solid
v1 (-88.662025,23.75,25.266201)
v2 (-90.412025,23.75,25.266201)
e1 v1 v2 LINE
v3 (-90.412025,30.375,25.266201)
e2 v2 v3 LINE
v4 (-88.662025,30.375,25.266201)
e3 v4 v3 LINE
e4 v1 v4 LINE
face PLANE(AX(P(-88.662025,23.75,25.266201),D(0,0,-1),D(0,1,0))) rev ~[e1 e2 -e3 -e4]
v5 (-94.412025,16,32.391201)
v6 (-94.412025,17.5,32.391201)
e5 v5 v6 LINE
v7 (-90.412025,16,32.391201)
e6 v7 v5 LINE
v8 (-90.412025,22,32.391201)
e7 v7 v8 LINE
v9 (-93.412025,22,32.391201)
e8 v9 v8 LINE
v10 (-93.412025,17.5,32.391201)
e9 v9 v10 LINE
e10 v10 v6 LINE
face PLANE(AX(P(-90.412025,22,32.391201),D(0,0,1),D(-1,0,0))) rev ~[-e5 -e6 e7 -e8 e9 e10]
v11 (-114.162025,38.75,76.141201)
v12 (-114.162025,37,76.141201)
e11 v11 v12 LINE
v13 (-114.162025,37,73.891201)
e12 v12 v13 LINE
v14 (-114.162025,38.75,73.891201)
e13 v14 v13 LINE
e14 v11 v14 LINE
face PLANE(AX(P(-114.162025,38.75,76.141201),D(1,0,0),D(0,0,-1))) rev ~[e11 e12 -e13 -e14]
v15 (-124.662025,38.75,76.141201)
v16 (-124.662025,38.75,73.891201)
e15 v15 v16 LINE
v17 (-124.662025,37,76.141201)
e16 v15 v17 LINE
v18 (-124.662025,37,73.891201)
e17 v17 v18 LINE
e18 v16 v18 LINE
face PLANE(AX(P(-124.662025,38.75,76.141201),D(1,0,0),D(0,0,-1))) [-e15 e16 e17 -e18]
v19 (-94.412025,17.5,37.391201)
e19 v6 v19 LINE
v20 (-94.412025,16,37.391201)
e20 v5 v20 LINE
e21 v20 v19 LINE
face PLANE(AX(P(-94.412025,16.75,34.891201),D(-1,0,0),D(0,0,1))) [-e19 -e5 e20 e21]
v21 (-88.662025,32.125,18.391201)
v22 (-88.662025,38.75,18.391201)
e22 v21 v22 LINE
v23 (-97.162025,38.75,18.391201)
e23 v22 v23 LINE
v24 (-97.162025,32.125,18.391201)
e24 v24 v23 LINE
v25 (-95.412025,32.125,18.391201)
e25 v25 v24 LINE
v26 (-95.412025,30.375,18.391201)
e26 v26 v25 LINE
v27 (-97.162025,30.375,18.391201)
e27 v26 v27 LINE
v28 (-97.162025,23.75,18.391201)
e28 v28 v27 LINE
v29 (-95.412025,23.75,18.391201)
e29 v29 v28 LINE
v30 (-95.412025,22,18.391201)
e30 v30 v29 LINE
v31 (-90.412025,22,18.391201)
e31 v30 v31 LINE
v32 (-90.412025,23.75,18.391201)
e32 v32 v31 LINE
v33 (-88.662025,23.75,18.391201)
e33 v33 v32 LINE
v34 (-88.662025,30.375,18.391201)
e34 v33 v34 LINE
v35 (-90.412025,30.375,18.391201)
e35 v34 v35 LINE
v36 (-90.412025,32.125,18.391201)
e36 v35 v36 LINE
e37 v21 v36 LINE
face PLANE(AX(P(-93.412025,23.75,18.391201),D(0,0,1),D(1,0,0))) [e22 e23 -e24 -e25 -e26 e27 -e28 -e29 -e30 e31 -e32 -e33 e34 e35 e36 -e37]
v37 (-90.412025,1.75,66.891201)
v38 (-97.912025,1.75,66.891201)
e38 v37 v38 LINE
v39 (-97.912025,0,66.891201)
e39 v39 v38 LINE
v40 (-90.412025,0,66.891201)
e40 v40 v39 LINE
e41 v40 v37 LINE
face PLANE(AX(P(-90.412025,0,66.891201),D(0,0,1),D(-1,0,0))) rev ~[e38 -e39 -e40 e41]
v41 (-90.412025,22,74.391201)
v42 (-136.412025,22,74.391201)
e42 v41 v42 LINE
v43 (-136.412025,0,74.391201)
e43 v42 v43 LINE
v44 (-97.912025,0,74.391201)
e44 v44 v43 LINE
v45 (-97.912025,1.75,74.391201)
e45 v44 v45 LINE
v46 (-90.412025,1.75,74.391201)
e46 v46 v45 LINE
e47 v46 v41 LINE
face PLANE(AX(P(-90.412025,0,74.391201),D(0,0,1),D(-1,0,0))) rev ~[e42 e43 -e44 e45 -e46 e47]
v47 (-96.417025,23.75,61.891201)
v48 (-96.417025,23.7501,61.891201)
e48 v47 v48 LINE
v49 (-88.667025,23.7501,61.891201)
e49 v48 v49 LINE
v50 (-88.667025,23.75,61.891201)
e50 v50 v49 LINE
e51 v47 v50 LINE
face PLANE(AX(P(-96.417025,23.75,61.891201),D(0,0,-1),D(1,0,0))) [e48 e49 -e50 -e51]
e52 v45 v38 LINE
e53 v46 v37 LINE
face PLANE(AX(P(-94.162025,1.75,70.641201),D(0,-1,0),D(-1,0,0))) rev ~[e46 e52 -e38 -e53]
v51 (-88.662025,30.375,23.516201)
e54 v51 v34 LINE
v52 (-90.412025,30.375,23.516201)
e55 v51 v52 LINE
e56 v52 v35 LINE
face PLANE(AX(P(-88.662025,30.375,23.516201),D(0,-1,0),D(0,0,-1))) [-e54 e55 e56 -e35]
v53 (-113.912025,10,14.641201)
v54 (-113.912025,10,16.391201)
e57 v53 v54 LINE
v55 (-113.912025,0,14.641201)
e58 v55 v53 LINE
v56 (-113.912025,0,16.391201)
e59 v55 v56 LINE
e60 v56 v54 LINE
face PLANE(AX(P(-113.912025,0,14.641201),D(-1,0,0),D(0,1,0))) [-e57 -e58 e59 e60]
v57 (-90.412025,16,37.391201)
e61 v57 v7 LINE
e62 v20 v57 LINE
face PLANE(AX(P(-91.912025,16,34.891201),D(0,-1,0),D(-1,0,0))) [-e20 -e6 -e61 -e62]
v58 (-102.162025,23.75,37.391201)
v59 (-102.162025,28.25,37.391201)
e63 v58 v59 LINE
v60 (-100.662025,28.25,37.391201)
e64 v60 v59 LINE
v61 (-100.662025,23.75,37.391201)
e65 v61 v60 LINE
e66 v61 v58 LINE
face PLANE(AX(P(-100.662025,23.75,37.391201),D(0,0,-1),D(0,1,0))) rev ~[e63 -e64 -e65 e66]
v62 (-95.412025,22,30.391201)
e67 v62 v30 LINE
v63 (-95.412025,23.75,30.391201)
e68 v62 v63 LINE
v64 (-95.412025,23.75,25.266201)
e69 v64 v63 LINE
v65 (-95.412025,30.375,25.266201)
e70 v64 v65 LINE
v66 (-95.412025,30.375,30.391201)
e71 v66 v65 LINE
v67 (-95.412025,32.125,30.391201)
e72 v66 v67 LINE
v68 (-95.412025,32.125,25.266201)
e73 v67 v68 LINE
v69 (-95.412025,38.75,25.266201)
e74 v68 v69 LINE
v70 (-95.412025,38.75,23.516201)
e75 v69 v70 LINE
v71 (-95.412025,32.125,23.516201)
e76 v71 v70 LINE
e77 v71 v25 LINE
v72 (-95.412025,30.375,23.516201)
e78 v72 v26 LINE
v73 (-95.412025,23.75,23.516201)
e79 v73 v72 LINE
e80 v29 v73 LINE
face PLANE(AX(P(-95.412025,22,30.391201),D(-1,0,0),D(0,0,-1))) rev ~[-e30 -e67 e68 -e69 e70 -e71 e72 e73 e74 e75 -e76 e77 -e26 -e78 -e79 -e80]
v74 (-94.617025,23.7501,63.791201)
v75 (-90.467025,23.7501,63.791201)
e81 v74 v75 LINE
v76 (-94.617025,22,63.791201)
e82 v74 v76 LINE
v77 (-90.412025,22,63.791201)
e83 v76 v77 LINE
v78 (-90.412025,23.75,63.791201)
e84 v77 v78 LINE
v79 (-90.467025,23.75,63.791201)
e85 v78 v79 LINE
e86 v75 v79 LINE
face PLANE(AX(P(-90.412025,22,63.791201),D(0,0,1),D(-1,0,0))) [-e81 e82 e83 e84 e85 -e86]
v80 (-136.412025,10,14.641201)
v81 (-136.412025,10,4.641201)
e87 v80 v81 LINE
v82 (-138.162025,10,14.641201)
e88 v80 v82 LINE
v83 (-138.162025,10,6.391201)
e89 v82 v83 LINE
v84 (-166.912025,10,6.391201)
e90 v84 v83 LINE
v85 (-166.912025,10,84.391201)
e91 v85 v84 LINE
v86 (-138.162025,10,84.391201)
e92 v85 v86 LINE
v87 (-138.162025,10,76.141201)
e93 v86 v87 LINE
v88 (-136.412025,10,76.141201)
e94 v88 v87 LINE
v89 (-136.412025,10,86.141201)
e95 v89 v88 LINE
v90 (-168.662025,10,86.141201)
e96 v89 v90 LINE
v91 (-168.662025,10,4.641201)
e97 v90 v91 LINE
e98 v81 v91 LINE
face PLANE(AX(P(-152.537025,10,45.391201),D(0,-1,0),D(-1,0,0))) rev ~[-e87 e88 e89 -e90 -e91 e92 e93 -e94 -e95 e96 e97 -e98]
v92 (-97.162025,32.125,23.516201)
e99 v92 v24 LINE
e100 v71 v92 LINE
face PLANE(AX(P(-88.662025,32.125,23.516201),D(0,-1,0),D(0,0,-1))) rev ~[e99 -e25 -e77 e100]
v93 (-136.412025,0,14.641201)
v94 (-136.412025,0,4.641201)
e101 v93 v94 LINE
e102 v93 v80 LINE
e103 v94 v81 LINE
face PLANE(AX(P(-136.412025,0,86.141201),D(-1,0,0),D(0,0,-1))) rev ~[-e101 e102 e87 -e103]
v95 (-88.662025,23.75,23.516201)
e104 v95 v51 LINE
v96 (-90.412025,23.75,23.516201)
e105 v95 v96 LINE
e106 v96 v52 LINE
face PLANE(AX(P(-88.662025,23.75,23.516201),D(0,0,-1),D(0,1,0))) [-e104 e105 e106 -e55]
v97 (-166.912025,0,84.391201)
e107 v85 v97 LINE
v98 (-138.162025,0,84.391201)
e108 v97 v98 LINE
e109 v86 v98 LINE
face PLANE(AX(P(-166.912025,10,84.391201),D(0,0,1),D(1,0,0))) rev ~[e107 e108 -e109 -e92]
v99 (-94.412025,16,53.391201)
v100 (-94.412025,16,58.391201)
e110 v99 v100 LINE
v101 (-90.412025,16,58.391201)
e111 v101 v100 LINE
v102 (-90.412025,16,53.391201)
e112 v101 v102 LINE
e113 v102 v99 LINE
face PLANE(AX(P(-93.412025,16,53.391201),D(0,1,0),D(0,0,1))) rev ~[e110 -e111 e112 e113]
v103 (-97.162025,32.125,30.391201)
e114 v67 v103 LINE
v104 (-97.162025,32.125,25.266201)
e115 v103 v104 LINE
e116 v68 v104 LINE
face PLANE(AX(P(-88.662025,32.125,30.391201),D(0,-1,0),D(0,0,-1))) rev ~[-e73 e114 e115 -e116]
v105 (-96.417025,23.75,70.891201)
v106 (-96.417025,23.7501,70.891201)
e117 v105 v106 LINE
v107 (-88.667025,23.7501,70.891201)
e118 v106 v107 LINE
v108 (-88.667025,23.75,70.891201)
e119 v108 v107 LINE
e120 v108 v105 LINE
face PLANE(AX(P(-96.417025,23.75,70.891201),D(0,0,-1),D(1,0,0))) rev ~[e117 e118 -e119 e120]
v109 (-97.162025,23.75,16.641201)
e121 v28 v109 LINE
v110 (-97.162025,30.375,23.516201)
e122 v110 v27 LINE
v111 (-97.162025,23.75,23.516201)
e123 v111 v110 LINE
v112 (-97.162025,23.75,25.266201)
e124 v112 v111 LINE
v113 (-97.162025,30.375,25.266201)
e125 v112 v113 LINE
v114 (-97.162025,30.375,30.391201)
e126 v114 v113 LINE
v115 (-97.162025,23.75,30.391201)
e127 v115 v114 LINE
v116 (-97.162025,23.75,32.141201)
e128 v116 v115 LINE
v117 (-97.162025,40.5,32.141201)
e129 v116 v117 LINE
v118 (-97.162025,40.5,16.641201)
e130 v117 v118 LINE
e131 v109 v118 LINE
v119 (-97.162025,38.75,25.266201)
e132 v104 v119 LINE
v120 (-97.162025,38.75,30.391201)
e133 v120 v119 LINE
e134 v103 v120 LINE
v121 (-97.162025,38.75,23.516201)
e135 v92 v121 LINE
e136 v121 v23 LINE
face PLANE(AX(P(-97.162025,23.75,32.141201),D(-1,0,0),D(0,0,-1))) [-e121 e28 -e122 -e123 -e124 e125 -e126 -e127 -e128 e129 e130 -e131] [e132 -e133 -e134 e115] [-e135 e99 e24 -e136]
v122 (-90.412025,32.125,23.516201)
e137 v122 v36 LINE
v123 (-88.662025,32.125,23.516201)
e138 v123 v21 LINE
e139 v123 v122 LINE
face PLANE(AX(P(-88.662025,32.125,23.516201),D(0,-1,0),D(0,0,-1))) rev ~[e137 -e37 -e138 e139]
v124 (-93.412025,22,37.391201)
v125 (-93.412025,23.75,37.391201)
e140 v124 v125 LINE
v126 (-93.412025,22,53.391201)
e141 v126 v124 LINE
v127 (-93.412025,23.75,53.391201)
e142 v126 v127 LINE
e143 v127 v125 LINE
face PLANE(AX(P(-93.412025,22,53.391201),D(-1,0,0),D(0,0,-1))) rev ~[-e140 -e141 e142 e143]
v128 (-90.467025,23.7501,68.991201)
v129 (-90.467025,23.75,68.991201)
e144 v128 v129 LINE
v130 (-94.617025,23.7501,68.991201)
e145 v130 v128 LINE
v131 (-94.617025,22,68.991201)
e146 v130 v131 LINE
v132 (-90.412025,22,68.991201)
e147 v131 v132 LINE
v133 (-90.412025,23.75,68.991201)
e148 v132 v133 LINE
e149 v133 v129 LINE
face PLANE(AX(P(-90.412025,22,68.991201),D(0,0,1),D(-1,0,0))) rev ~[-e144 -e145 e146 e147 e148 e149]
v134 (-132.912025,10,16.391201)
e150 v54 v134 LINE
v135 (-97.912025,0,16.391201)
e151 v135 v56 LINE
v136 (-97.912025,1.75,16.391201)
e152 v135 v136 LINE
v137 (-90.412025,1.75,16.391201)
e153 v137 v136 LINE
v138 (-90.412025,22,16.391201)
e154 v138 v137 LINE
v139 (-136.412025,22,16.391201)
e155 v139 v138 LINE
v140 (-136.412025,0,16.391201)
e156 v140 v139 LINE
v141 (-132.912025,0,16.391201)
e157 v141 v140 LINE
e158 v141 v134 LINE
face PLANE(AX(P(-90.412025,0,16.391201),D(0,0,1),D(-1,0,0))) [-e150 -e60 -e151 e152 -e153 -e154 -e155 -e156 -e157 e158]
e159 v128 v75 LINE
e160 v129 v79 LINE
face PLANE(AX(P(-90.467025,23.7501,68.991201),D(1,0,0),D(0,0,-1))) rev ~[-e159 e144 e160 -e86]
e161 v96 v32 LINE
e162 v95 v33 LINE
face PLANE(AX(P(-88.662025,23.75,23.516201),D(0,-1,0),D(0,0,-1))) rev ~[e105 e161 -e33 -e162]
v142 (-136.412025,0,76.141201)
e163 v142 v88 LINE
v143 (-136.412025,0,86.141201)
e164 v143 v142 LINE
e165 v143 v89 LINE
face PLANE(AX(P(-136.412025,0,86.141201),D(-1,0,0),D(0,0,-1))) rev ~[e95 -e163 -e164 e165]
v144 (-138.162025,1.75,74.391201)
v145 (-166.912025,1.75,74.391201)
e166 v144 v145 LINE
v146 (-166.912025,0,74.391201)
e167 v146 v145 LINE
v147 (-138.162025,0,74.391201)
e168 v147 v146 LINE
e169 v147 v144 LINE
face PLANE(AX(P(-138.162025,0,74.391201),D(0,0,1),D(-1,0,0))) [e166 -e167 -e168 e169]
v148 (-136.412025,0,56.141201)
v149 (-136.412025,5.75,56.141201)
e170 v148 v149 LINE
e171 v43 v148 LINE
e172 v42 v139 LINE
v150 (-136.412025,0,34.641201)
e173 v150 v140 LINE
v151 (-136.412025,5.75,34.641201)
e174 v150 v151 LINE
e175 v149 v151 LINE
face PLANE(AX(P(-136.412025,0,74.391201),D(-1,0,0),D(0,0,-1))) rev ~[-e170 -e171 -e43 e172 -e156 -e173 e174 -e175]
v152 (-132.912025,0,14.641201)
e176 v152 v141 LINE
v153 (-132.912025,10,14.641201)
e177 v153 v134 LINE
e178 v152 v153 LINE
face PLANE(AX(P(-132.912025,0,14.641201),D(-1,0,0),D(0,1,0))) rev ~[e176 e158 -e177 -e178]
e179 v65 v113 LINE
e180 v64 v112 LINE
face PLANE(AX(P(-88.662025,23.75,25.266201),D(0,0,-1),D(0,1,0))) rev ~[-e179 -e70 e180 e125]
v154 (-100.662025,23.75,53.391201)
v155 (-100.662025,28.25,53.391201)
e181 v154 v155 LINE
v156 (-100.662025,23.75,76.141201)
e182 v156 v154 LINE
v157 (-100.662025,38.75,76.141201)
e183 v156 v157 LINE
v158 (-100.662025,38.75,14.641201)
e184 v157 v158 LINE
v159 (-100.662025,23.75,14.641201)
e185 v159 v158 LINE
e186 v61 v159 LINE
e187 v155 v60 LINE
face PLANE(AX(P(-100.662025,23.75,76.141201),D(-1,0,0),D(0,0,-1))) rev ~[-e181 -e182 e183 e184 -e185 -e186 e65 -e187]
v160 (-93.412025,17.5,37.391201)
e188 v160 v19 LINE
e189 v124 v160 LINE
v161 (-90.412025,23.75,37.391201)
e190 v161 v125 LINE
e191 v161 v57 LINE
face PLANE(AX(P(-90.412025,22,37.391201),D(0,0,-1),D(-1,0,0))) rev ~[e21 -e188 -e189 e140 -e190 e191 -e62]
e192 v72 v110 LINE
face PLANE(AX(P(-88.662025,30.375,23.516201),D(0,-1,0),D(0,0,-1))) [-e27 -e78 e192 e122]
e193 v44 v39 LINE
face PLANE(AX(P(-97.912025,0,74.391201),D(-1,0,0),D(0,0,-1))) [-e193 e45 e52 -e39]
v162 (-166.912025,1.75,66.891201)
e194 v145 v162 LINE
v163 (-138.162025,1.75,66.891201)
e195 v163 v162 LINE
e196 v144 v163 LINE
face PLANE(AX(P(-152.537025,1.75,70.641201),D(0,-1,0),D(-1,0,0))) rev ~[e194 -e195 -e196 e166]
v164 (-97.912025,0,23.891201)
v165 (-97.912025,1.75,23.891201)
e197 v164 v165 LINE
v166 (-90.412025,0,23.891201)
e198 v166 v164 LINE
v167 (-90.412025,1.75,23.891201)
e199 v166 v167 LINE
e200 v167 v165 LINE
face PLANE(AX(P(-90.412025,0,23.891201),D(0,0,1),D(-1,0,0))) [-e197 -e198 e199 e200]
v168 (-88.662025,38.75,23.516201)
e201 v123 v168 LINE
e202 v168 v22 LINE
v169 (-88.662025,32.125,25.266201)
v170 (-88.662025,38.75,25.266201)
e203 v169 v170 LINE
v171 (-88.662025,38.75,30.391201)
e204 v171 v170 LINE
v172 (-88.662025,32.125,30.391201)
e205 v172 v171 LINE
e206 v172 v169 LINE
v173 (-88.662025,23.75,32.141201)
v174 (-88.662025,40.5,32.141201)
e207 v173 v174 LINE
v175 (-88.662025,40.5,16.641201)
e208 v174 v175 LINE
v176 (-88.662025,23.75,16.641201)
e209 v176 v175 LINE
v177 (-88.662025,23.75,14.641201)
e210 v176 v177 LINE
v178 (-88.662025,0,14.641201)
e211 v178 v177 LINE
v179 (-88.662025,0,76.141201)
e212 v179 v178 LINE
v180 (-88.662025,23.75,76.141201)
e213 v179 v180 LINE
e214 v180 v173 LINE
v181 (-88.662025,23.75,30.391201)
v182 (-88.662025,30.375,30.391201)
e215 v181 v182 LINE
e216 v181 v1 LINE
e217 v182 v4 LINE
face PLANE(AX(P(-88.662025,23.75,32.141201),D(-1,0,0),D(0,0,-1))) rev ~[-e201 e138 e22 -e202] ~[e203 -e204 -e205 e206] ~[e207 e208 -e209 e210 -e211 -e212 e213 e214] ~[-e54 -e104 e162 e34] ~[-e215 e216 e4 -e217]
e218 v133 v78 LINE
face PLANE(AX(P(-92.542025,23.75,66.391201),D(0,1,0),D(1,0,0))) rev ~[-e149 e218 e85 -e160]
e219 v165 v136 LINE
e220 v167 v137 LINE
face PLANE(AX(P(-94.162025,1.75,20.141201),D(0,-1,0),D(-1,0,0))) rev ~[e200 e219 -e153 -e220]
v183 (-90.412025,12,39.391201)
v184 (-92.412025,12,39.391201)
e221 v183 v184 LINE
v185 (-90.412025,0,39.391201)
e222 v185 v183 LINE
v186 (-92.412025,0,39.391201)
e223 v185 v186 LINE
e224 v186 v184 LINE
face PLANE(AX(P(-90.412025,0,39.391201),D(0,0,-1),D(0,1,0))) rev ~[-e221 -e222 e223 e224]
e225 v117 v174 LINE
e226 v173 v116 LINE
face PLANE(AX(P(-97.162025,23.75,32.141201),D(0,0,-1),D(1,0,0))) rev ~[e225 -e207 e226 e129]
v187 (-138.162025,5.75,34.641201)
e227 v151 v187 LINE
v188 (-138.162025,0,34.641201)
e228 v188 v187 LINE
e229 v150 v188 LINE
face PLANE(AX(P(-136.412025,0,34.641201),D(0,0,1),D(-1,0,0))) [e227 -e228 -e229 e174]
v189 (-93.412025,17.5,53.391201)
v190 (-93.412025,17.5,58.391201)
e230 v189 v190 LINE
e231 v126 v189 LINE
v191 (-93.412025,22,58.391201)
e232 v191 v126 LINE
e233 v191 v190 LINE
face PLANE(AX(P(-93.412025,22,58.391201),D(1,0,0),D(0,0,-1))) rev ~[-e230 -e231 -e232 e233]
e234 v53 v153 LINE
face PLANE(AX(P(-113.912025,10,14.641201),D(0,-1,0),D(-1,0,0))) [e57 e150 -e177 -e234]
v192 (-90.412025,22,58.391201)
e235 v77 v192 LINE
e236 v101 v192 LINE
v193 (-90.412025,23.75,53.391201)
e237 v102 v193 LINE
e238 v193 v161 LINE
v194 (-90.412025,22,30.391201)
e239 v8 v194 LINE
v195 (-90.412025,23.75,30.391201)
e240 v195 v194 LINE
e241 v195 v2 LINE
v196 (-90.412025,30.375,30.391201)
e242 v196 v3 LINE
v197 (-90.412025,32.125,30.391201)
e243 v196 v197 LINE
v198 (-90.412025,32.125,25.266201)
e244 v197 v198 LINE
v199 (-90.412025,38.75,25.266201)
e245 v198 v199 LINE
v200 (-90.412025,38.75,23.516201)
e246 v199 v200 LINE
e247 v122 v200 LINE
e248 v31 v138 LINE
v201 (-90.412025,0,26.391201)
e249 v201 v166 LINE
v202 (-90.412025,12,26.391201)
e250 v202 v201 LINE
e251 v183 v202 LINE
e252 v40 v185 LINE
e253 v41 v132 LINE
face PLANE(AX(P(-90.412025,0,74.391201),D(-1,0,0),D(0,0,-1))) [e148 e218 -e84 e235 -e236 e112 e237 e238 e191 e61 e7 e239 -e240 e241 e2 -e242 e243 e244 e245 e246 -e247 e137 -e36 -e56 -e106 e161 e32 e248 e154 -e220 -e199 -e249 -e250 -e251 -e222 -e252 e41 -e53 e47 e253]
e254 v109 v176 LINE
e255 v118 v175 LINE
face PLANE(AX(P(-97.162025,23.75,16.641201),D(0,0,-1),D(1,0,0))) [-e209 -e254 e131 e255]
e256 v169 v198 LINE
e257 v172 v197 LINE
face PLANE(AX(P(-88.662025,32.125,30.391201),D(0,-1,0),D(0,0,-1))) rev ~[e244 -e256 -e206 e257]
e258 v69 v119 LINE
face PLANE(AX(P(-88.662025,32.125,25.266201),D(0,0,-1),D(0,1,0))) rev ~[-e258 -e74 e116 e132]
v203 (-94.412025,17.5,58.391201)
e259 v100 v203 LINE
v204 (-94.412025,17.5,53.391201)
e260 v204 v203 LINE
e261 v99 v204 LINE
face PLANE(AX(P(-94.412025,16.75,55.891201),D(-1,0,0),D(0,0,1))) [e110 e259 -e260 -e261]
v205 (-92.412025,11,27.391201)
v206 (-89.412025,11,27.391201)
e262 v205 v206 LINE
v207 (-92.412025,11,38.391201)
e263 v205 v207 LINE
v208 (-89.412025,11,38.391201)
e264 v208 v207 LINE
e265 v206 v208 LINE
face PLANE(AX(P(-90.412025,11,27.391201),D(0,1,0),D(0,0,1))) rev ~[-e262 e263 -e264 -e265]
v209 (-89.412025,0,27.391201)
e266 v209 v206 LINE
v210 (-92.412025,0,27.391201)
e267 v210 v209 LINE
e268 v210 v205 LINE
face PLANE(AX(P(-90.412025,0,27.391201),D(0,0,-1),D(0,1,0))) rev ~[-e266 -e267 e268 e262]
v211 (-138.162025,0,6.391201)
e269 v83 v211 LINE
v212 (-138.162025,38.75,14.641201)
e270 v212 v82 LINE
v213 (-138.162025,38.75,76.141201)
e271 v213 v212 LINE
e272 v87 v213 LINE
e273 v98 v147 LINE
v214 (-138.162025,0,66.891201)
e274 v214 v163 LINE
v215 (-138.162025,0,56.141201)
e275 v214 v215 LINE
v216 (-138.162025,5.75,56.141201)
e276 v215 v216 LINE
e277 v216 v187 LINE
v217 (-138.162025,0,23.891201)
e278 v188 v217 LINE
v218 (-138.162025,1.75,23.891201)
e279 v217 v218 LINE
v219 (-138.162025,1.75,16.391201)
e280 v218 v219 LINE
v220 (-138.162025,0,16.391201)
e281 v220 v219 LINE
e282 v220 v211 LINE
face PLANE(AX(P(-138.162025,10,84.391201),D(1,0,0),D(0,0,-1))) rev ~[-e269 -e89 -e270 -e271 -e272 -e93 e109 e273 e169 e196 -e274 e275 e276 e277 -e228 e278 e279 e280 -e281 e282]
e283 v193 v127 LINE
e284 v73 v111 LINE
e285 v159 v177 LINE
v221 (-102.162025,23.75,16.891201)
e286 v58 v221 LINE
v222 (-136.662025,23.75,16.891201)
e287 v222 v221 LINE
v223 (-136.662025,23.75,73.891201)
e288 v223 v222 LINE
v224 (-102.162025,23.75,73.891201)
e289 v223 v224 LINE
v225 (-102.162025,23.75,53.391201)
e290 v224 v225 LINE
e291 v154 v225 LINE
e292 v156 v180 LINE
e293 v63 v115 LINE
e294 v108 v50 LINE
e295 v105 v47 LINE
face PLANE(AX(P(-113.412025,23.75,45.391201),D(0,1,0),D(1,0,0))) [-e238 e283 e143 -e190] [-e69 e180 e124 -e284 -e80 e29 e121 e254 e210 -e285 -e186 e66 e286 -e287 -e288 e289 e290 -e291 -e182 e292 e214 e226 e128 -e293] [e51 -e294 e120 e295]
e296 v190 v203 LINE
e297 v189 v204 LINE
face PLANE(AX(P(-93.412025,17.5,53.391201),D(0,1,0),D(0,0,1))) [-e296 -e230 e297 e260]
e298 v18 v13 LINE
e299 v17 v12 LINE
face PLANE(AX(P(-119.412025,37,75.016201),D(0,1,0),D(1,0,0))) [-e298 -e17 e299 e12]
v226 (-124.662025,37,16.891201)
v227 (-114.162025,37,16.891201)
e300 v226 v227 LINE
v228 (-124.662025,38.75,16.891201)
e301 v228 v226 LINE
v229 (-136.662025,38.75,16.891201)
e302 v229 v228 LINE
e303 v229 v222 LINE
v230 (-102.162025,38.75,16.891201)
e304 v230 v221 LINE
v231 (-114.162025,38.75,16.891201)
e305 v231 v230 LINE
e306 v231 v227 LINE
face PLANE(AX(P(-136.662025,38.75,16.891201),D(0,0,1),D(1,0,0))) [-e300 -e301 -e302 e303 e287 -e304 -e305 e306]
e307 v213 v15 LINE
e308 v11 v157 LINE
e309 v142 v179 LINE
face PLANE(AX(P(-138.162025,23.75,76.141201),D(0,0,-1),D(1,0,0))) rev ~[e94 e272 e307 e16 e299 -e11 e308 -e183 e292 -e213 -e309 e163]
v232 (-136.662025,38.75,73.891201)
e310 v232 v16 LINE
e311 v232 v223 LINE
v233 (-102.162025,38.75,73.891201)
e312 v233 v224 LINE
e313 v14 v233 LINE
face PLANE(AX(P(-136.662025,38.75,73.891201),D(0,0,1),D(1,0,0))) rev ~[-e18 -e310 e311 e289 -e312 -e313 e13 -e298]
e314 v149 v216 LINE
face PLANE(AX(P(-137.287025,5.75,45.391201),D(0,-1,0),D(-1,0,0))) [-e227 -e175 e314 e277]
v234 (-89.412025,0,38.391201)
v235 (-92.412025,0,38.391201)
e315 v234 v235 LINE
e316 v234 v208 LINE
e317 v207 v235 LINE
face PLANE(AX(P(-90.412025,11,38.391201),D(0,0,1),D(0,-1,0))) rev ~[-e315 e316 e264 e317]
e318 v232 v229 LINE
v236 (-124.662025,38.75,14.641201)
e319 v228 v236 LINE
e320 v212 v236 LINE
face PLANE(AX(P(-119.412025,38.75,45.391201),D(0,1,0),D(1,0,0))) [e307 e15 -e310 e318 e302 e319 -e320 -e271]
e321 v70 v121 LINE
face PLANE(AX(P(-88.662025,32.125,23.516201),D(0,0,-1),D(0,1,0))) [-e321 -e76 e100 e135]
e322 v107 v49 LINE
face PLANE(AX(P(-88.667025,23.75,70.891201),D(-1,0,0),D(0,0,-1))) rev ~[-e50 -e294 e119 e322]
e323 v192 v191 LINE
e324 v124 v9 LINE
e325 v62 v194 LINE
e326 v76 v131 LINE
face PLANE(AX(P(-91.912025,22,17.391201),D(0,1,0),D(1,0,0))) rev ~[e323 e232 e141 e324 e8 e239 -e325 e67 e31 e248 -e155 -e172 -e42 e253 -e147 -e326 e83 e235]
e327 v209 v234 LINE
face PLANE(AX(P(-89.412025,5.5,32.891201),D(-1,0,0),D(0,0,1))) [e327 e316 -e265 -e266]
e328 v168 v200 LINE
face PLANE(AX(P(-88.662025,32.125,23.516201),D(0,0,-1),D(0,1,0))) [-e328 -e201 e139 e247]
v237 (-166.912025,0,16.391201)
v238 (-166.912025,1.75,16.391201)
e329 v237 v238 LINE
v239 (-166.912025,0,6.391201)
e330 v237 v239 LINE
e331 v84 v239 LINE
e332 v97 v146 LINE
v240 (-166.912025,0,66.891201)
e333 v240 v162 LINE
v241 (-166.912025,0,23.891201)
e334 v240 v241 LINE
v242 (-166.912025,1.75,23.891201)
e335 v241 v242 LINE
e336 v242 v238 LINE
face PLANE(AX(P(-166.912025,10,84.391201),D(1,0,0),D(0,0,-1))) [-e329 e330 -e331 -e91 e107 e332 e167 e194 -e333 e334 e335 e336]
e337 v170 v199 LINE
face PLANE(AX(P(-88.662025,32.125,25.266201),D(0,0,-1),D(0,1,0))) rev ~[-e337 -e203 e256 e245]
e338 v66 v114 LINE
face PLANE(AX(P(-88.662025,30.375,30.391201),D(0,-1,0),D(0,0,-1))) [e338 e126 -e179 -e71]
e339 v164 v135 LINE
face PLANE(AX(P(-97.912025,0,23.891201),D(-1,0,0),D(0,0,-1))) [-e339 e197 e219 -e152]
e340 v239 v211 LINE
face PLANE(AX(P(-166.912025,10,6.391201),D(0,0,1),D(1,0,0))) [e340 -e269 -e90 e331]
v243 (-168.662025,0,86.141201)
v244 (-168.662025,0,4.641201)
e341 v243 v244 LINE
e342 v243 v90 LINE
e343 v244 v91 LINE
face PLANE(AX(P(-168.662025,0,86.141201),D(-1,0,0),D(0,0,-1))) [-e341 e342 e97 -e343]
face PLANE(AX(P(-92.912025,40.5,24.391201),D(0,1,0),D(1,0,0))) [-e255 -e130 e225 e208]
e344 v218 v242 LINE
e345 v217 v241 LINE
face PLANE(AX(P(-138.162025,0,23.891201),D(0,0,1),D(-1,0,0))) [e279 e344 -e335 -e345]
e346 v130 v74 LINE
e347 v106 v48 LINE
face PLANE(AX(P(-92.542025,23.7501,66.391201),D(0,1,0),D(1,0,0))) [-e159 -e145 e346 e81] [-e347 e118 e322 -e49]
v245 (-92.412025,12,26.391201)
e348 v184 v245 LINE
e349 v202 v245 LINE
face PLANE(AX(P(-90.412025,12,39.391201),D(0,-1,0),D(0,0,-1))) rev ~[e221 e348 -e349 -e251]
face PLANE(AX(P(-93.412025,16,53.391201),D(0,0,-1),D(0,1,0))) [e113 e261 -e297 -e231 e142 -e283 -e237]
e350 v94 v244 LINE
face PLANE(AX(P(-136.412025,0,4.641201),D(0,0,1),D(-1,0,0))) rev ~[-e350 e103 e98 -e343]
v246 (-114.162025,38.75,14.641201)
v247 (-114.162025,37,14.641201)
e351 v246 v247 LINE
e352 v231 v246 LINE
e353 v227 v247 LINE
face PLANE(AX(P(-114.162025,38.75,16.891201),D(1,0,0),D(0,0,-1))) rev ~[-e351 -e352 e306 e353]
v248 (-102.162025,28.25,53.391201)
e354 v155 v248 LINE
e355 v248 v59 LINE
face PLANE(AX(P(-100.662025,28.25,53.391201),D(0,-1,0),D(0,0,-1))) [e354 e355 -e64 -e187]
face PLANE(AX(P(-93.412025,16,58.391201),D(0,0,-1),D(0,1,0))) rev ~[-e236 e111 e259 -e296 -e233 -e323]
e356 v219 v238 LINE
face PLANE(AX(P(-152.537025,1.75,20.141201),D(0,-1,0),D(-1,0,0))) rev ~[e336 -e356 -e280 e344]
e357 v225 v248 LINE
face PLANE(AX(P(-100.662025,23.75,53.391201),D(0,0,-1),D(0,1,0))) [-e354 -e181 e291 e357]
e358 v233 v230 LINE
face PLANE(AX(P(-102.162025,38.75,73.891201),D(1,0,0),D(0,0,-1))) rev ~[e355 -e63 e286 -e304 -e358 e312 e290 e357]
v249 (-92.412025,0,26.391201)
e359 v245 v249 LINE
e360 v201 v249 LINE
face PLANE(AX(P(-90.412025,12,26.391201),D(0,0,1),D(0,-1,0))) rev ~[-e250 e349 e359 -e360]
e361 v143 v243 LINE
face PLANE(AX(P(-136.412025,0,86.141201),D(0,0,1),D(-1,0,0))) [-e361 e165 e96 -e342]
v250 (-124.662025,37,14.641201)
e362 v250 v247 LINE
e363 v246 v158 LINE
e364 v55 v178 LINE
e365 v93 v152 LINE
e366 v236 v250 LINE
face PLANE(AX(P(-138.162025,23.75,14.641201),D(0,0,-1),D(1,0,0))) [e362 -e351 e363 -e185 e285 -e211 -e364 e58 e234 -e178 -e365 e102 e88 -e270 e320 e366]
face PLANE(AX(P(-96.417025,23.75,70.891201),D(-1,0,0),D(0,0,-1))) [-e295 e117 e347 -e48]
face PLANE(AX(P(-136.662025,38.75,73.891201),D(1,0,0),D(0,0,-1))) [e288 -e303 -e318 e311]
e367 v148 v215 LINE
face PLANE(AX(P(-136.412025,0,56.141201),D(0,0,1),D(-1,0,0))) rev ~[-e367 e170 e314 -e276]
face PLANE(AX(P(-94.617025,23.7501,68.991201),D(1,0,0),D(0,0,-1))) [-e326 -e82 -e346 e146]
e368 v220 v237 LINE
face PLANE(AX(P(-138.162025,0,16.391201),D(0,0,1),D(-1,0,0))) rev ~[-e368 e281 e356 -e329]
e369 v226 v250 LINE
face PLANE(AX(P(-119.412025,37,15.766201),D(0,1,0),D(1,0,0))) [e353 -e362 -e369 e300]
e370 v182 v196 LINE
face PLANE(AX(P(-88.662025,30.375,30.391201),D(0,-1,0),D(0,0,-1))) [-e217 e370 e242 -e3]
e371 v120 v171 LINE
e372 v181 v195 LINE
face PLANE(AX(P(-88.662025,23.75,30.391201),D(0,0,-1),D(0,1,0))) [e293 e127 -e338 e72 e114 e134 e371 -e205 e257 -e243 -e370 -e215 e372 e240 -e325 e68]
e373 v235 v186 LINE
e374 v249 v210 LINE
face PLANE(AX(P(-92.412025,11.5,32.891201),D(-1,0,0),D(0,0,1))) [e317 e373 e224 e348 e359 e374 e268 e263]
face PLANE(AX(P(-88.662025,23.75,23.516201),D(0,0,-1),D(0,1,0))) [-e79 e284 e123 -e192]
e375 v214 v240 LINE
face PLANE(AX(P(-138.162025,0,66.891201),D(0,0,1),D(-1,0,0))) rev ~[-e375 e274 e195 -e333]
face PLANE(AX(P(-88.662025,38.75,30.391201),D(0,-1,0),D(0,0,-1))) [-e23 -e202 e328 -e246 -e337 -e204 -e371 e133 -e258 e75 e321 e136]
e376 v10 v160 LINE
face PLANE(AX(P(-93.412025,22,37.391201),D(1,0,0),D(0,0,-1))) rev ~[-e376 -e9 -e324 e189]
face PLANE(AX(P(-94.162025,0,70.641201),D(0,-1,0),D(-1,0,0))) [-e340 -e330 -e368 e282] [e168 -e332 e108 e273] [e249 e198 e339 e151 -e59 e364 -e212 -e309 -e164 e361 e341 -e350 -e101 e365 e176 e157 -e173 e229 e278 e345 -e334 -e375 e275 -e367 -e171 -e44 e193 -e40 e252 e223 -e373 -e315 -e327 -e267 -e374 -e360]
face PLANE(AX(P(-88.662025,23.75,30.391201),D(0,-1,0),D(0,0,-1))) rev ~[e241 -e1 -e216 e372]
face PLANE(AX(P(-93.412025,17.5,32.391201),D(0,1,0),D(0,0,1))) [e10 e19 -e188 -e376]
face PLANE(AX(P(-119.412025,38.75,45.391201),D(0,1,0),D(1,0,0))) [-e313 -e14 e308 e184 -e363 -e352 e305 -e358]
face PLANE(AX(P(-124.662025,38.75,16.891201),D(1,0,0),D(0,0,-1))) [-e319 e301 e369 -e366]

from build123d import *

# Parameters (mm, degrees)
SKETCH1_W               = 49.5
SKETCH1_H               = 61.5
BOSS_EXTRUDE1_DEPTH     = 23.75
SKETCH2_W               = 46
SKETCH2_H               = 58
CUT_EXTRUDE1_DEPTH      = 22
SKETCH3_W               = 3
SKETCH3_H               = 16
CUT_EXTRUDE2_DEPTH      = 1.75
SKETCH7_W               = 3
SKETCH7_H               = 5
BOSS_EXTRUDE2_DEPTH     = 6
SKETCH11_W              = 37.5
SKETCH11_H              = 61.5
BOSS_EXTRUDE3_DEPTH     = 15
SKETCH12_W              = 34.5
SKETCH12_H              = 57
CUT_EXTRUDE3_DEPTH      = 15
SKETCH14_W              = 7.75
SKETCH14_H              = 9
BOSS_EXTRUDE4_DEPTH     = 0.0001
SKETCH15_W              = 4.15
SKETCH15_H              = 5.2
CUT_EXTRUDE4_DEPTH      = 4.75
SKETCH16_W              = 8.5
SKETCH16_H              = 15.5
BOSS_EXTRUDE5_DEPTH     = 16.75
SKETCH17_W              = 5.125
SKETCH17_H              = 6.625
CUT_EXTRUDE5_DEPTH      = 8.5
CUT_EXTRUDE6_DEPTH      = 15
CUT_EXTRUDE6_DEPTH_BACK = 1.75
SKETCH18_W              = 5
SKETCH18_H              = 12
SKETCH20_W              = 16
SKETCH20_H              = 4.5
CUT_EXTRUDE7_DEPTH      = 1.75
SKETCH21_W              = 32.25
SKETCH21_H              = 81.5
BOSS_EXTRUDE7_DEPTH     = 10
SKETCH23_W              = 28.75
SKETCH23_H              = 78
CUT_EXTRUDE8_DEPTH      = 10
SKETCH25_W              = 3
SKETCH25_H              = 5.4
BOSS_EXTRUDE8_DEPTH     = 1.75
SKETCH28_W              = 3
SKETCH28_H              = 2
BOSS_EXTRUDE9_DEPTH     = 1.75
SKETCH30_W              = 5
SKETCH30_H              = 1.5
BOSS_EXTRUDE11_DEPTH    = 1
SKETCH32_W              = 10.5
SKETCH32_H              = 2.25
CUT_EXTRUDE9_DEPTH      = 1.75
SKETCH33_W              = 11
SKETCH33_H              = 11
CUT_EXTRUDE10_DEPTH     = 1
SKETCH34_W              = 11
SKETCH34_H              = 1
BOSS_EXTRUDE12_DEPTH    = 2
SKETCH35_W              = 19
SKETCH35_H              = 10
CUT_EXTRUDE11_DEPTH     = 1.75
SKETCH36_W              = 1.75
SKETCH36_H              = 21.5
CUT_EXTRUDE12_DEPTH     = 5.75
SKETCH37_W              = 7.5
SKETCH37_H              = 7.5
SKETCH37_W_2            = 28.75
BOSS_EXTRUDE13_DEPTH    = 1.75


with BuildPart() as part:
    # Sketch1 → Boss-Extrude1 (new body)
    with BuildSketch(Plane(origin=(0, 0, 0), x_dir=(1, 0, 0), z_dir=(0, 1, 0))):
        with Locations((-113.412024913, -45.391200727)):
            Rectangle(SKETCH1_W, SKETCH1_H)
    extrude(amount=BOSS_EXTRUDE1_DEPTH)

    # Sketch2 → Cut-Extrude1 (cut)
    with BuildSketch(Plane(origin=(0, 0, 0), x_dir=(-1, 0, 0), z_dir=(0, -1, 0))):
        with Locations((113.412024913, -45.391200727)):
            Rectangle(SKETCH2_W, SKETCH2_H)
    extrude(amount=-CUT_EXTRUDE1_DEPTH, mode=Mode.SUBTRACT)

    # Sketch3 → Cut-Extrude2 (cut)
    with BuildSketch(Plane(origin=(0, 22, 0), x_dir=(-1, 0, 0), z_dir=(0, -1, 0))):
        with Locations((91.912024913, -66.391200727)):
            Rectangle(SKETCH3_W, SKETCH3_H)
        with Locations((91.912024913, -24.391200727)):
            Rectangle(SKETCH3_W, SKETCH3_H)
        with Locations((91.912024913, -45.391200727)):
            Rectangle(SKETCH3_W, SKETCH3_H)
    extrude(amount=-CUT_EXTRUDE2_DEPTH, mode=Mode.SUBTRACT)

    # Sketch7 → Boss-Extrude2 (add)
    with BuildSketch(Plane(origin=(0, 22, 0), x_dir=(-1, 0, 0), z_dir=(0, -1, 0))):
        with Locations((91.912024913, -55.891200727)):
            Rectangle(SKETCH7_W, SKETCH7_H)
        with Locations((91.912024913, -34.891200727)):
            Rectangle(SKETCH7_W, SKETCH7_H)
    extrude(amount=BOSS_EXTRUDE2_DEPTH)

    # Sketch11 → Boss-Extrude3 (add)
    with BuildSketch(Plane(origin=(0, 23.75, 0), x_dir=(1, 0, 0), z_dir=(0, 1, 0))):
        with Locations((-119.412024913, -45.391200727)):
            Rectangle(SKETCH11_W, SKETCH11_H)
    extrude(amount=BOSS_EXTRUDE3_DEPTH)

    # Sketch12 → Cut-Extrude3 (cut)
    with BuildSketch(Plane(origin=(0, 38.75, 0), x_dir=(1, 0, 0), z_dir=(0, 1, 0))):
        with Locations((-119.412024913, -45.391200727)):
            Rectangle(SKETCH12_W, SKETCH12_H)
    extrude(amount=-CUT_EXTRUDE3_DEPTH, mode=Mode.SUBTRACT)

    # Sketch14 → Boss-Extrude4 (add)
    with BuildSketch(Plane(origin=(0, 23.75, 0), x_dir=(1, 0, 0), z_dir=(0, 1, 0))):
        with Locations((-92.542024913, -66.391200727)):
            Rectangle(SKETCH14_W, SKETCH14_H)
    extrude(amount=BOSS_EXTRUDE4_DEPTH)

    # Sketch15 → Cut-Extrude4 (cut)
    with BuildSketch(Plane(origin=(0, 23.7501, 0), x_dir=(1, 0, 0), z_dir=(0, 1, 0))):
        with Locations((-92.542024913, -66.391200727)):
            Rectangle(SKETCH15_W, SKETCH15_H)
    extrude(amount=-CUT_EXTRUDE4_DEPTH, mode=Mode.SUBTRACT)

    # Sketch16 → Boss-Extrude5 (add)
    with BuildSketch(Plane(origin=(0, 23.75, 0), x_dir=(1, 0, 0), z_dir=(0, 1, 0))):
        with Locations((-92.912024913, -24.391200727)):
            Rectangle(SKETCH16_W, SKETCH16_H)
    extrude(amount=BOSS_EXTRUDE5_DEPTH)

    # Sketch17 → Cut-Extrude5 (cut)
    with BuildSketch(Plane(origin=(-88.662024913, 0, 0), x_dir=(0, 0, -1), z_dir=(1, 0, 0))):
        with Locations((-27.828700727, 35.4375)):
            Rectangle(SKETCH17_W, SKETCH17_H)
        with Locations((-27.828700727, 27.0625)):
            Rectangle(SKETCH17_W, SKETCH17_H)
        with Locations((-20.953700727, 35.4375)):
            Rectangle(SKETCH17_W, SKETCH17_H)
        with Locations((-20.953700727, 27.0625)):
            Rectangle(SKETCH17_W, SKETCH17_H)
    extrude(amount=-CUT_EXTRUDE5_DEPTH, mode=Mode.SUBTRACT)

    # Sketch18 → Cut-Extrude6 (cut, two sides: drawn at the far end of the back side and taken through both)
    with BuildSketch(Plane(origin=(0, 23.75, 0), x_dir=(1, 0, 0), z_dir=(0, 1, 0)).offset(-CUT_EXTRUDE6_DEPTH_BACK)):
        with Locations((-92.912024913, -24.391200727)):
            Rectangle(SKETCH18_W, SKETCH18_H)
    extrude(amount=CUT_EXTRUDE6_DEPTH + CUT_EXTRUDE6_DEPTH_BACK, mode=Mode.SUBTRACT)

    # Sketch20 → Cut-Extrude7 (cut)
    with BuildSketch(Plane(origin=(-100.662024913, 0, 0), x_dir=(0, 0, -1), z_dir=(1, 0, 0))):
        with Locations((-45.391200727, 26)):
            Rectangle(SKETCH20_W, SKETCH20_H)
    extrude(amount=-CUT_EXTRUDE7_DEPTH, mode=Mode.SUBTRACT)

    # Sketch21 → Boss-Extrude7 (add)
    with BuildSketch(Plane(origin=(0, 0, 0), x_dir=(-1, 0, 0), z_dir=(0, -1, 0))):
        with Locations((152.537024913, -45.391200727)):
            Rectangle(SKETCH21_W, SKETCH21_H)
    extrude(amount=-BOSS_EXTRUDE7_DEPTH)

    # Sketch23 → Cut-Extrude8 (cut)
    with BuildSketch(Plane(origin=(0, 10, 0), x_dir=(1, 0, 0), z_dir=(0, 1, 0))):
        with Locations((-152.537024913, -45.391200727)):
            Rectangle(SKETCH23_W, SKETCH23_H)
    extrude(amount=-CUT_EXTRUDE8_DEPTH, mode=Mode.SUBTRACT)

    # Sketch25 → Boss-Extrude8 (add)
    with BuildSketch(Plane(origin=(0, 22, 0), x_dir=(-1, 0, 0), z_dir=(0, -1, 0))):
        with Locations((91.912024913, -61.091200727)):
            Rectangle(SKETCH25_W, SKETCH25_H)
        with Locations((91.912024913, -71.691200727)):
            Rectangle(SKETCH25_W, SKETCH25_H)
    extrude(amount=-BOSS_EXTRUDE8_DEPTH)

    # Sketch28 → Boss-Extrude9 (add)
    with BuildSketch(Plane(origin=(0, 23.75, 0), x_dir=(1, 0, 0), z_dir=(0, 1, 0))):
        with Locations((-91.912024913, -17.391200727)):
            Rectangle(SKETCH28_W, SKETCH28_H)
        with Locations((-91.912024913, -31.391200727)):
            Rectangle(SKETCH28_W, SKETCH28_H)
    extrude(amount=-BOSS_EXTRUDE9_DEPTH)

    # Sketch30 → Boss-Extrude11 (add)
    with BuildSketch(Plane.ZY.offset(93.412024913)):
        with Locations((55.891200727, 16.75)):
            Rectangle(SKETCH30_W, SKETCH30_H)
        with Locations((34.891200727, 16.75)):
            Rectangle(SKETCH30_W, SKETCH30_H)
    extrude(amount=BOSS_EXTRUDE11_DEPTH)

    # Sketch32 → Cut-Extrude9 (cut)
    with BuildSketch(Plane(origin=(0, 38.75, 0), x_dir=(1, 0, 0), z_dir=(0, 1, 0))):
        with Locations((-119.412024913, -75.016200727)):
            Rectangle(SKETCH32_W, SKETCH32_H)
        with Locations((-119.412024913, -15.766200727)):
            Rectangle(SKETCH32_W, SKETCH32_H)
    extrude(amount=-CUT_EXTRUDE9_DEPTH, mode=Mode.SUBTRACT)

    # Sketch33 → Cut-Extrude10 (cut)
    with BuildSketch(Plane.ZY.offset(90.412024913)):
        with Locations((32.891200727, 5.5)):
            Rectangle(SKETCH33_W, SKETCH33_H)
    extrude(amount=-CUT_EXTRUDE10_DEPTH, mode=Mode.SUBTRACT)

    # Sketch34 → Boss-Extrude12 (add)
    with BuildSketch(Plane.ZY.offset(90.412024913)):
        with Locations((32.891200727, 11.5)):
            Rectangle(SKETCH34_W, SKETCH34_H)
        Polygon((38.391200727, 12), (38.391200727, 11), (38.391200727, 0), (39.391200727, 0), (39.391200727, 12), align=None)
        Polygon((26.391200727, 0), (27.391200727, 0), (27.391200727, 11), (27.391200727, 12), (26.391200727, 12), align=None)
    extrude(amount=BOSS_EXTRUDE12_DEPTH)

    # Sketch35 → Cut-Extrude11 (cut)
    with BuildSketch(Plane(origin=(0, 0, 14.641200727), x_dir=(-1, 0, 0), z_dir=(0, 0, -1))):
        with Locations((123.412024913, 5)):
            Rectangle(SKETCH35_W, SKETCH35_H)
    extrude(amount=-CUT_EXTRUDE11_DEPTH, mode=Mode.SUBTRACT)

    # Sketch36 → Cut-Extrude12 (cut)
    with BuildSketch(Plane(origin=(0, 0, 0), x_dir=(-1, 0, 0), z_dir=(0, -1, 0))):
        with Locations((137.287024913, -45.391200727)):
            Rectangle(SKETCH36_W, SKETCH36_H)
    extrude(amount=-CUT_EXTRUDE12_DEPTH, mode=Mode.SUBTRACT)

    # Sketch37 → Boss-Extrude13 (add)
    with BuildSketch(Plane(origin=(0, 0, 0), x_dir=(-1, 0, 0), z_dir=(0, -1, 0))):
        with Locations((94.162024913, -70.641200727)):
            Rectangle(SKETCH37_W, SKETCH37_H)
        with Locations((94.162024913, -20.141200727)):
            Rectangle(SKETCH37_W, SKETCH37_H)
        with Locations((152.537024913, -70.641200727)):
            Rectangle(SKETCH37_W_2, SKETCH37_H)
        with Locations((152.537024913, -20.141200727)):
            Rectangle(SKETCH37_W_2, SKETCH37_H)
    extrude(amount=-BOSS_EXTRUDE13_DEPTH)


solid = part.part
